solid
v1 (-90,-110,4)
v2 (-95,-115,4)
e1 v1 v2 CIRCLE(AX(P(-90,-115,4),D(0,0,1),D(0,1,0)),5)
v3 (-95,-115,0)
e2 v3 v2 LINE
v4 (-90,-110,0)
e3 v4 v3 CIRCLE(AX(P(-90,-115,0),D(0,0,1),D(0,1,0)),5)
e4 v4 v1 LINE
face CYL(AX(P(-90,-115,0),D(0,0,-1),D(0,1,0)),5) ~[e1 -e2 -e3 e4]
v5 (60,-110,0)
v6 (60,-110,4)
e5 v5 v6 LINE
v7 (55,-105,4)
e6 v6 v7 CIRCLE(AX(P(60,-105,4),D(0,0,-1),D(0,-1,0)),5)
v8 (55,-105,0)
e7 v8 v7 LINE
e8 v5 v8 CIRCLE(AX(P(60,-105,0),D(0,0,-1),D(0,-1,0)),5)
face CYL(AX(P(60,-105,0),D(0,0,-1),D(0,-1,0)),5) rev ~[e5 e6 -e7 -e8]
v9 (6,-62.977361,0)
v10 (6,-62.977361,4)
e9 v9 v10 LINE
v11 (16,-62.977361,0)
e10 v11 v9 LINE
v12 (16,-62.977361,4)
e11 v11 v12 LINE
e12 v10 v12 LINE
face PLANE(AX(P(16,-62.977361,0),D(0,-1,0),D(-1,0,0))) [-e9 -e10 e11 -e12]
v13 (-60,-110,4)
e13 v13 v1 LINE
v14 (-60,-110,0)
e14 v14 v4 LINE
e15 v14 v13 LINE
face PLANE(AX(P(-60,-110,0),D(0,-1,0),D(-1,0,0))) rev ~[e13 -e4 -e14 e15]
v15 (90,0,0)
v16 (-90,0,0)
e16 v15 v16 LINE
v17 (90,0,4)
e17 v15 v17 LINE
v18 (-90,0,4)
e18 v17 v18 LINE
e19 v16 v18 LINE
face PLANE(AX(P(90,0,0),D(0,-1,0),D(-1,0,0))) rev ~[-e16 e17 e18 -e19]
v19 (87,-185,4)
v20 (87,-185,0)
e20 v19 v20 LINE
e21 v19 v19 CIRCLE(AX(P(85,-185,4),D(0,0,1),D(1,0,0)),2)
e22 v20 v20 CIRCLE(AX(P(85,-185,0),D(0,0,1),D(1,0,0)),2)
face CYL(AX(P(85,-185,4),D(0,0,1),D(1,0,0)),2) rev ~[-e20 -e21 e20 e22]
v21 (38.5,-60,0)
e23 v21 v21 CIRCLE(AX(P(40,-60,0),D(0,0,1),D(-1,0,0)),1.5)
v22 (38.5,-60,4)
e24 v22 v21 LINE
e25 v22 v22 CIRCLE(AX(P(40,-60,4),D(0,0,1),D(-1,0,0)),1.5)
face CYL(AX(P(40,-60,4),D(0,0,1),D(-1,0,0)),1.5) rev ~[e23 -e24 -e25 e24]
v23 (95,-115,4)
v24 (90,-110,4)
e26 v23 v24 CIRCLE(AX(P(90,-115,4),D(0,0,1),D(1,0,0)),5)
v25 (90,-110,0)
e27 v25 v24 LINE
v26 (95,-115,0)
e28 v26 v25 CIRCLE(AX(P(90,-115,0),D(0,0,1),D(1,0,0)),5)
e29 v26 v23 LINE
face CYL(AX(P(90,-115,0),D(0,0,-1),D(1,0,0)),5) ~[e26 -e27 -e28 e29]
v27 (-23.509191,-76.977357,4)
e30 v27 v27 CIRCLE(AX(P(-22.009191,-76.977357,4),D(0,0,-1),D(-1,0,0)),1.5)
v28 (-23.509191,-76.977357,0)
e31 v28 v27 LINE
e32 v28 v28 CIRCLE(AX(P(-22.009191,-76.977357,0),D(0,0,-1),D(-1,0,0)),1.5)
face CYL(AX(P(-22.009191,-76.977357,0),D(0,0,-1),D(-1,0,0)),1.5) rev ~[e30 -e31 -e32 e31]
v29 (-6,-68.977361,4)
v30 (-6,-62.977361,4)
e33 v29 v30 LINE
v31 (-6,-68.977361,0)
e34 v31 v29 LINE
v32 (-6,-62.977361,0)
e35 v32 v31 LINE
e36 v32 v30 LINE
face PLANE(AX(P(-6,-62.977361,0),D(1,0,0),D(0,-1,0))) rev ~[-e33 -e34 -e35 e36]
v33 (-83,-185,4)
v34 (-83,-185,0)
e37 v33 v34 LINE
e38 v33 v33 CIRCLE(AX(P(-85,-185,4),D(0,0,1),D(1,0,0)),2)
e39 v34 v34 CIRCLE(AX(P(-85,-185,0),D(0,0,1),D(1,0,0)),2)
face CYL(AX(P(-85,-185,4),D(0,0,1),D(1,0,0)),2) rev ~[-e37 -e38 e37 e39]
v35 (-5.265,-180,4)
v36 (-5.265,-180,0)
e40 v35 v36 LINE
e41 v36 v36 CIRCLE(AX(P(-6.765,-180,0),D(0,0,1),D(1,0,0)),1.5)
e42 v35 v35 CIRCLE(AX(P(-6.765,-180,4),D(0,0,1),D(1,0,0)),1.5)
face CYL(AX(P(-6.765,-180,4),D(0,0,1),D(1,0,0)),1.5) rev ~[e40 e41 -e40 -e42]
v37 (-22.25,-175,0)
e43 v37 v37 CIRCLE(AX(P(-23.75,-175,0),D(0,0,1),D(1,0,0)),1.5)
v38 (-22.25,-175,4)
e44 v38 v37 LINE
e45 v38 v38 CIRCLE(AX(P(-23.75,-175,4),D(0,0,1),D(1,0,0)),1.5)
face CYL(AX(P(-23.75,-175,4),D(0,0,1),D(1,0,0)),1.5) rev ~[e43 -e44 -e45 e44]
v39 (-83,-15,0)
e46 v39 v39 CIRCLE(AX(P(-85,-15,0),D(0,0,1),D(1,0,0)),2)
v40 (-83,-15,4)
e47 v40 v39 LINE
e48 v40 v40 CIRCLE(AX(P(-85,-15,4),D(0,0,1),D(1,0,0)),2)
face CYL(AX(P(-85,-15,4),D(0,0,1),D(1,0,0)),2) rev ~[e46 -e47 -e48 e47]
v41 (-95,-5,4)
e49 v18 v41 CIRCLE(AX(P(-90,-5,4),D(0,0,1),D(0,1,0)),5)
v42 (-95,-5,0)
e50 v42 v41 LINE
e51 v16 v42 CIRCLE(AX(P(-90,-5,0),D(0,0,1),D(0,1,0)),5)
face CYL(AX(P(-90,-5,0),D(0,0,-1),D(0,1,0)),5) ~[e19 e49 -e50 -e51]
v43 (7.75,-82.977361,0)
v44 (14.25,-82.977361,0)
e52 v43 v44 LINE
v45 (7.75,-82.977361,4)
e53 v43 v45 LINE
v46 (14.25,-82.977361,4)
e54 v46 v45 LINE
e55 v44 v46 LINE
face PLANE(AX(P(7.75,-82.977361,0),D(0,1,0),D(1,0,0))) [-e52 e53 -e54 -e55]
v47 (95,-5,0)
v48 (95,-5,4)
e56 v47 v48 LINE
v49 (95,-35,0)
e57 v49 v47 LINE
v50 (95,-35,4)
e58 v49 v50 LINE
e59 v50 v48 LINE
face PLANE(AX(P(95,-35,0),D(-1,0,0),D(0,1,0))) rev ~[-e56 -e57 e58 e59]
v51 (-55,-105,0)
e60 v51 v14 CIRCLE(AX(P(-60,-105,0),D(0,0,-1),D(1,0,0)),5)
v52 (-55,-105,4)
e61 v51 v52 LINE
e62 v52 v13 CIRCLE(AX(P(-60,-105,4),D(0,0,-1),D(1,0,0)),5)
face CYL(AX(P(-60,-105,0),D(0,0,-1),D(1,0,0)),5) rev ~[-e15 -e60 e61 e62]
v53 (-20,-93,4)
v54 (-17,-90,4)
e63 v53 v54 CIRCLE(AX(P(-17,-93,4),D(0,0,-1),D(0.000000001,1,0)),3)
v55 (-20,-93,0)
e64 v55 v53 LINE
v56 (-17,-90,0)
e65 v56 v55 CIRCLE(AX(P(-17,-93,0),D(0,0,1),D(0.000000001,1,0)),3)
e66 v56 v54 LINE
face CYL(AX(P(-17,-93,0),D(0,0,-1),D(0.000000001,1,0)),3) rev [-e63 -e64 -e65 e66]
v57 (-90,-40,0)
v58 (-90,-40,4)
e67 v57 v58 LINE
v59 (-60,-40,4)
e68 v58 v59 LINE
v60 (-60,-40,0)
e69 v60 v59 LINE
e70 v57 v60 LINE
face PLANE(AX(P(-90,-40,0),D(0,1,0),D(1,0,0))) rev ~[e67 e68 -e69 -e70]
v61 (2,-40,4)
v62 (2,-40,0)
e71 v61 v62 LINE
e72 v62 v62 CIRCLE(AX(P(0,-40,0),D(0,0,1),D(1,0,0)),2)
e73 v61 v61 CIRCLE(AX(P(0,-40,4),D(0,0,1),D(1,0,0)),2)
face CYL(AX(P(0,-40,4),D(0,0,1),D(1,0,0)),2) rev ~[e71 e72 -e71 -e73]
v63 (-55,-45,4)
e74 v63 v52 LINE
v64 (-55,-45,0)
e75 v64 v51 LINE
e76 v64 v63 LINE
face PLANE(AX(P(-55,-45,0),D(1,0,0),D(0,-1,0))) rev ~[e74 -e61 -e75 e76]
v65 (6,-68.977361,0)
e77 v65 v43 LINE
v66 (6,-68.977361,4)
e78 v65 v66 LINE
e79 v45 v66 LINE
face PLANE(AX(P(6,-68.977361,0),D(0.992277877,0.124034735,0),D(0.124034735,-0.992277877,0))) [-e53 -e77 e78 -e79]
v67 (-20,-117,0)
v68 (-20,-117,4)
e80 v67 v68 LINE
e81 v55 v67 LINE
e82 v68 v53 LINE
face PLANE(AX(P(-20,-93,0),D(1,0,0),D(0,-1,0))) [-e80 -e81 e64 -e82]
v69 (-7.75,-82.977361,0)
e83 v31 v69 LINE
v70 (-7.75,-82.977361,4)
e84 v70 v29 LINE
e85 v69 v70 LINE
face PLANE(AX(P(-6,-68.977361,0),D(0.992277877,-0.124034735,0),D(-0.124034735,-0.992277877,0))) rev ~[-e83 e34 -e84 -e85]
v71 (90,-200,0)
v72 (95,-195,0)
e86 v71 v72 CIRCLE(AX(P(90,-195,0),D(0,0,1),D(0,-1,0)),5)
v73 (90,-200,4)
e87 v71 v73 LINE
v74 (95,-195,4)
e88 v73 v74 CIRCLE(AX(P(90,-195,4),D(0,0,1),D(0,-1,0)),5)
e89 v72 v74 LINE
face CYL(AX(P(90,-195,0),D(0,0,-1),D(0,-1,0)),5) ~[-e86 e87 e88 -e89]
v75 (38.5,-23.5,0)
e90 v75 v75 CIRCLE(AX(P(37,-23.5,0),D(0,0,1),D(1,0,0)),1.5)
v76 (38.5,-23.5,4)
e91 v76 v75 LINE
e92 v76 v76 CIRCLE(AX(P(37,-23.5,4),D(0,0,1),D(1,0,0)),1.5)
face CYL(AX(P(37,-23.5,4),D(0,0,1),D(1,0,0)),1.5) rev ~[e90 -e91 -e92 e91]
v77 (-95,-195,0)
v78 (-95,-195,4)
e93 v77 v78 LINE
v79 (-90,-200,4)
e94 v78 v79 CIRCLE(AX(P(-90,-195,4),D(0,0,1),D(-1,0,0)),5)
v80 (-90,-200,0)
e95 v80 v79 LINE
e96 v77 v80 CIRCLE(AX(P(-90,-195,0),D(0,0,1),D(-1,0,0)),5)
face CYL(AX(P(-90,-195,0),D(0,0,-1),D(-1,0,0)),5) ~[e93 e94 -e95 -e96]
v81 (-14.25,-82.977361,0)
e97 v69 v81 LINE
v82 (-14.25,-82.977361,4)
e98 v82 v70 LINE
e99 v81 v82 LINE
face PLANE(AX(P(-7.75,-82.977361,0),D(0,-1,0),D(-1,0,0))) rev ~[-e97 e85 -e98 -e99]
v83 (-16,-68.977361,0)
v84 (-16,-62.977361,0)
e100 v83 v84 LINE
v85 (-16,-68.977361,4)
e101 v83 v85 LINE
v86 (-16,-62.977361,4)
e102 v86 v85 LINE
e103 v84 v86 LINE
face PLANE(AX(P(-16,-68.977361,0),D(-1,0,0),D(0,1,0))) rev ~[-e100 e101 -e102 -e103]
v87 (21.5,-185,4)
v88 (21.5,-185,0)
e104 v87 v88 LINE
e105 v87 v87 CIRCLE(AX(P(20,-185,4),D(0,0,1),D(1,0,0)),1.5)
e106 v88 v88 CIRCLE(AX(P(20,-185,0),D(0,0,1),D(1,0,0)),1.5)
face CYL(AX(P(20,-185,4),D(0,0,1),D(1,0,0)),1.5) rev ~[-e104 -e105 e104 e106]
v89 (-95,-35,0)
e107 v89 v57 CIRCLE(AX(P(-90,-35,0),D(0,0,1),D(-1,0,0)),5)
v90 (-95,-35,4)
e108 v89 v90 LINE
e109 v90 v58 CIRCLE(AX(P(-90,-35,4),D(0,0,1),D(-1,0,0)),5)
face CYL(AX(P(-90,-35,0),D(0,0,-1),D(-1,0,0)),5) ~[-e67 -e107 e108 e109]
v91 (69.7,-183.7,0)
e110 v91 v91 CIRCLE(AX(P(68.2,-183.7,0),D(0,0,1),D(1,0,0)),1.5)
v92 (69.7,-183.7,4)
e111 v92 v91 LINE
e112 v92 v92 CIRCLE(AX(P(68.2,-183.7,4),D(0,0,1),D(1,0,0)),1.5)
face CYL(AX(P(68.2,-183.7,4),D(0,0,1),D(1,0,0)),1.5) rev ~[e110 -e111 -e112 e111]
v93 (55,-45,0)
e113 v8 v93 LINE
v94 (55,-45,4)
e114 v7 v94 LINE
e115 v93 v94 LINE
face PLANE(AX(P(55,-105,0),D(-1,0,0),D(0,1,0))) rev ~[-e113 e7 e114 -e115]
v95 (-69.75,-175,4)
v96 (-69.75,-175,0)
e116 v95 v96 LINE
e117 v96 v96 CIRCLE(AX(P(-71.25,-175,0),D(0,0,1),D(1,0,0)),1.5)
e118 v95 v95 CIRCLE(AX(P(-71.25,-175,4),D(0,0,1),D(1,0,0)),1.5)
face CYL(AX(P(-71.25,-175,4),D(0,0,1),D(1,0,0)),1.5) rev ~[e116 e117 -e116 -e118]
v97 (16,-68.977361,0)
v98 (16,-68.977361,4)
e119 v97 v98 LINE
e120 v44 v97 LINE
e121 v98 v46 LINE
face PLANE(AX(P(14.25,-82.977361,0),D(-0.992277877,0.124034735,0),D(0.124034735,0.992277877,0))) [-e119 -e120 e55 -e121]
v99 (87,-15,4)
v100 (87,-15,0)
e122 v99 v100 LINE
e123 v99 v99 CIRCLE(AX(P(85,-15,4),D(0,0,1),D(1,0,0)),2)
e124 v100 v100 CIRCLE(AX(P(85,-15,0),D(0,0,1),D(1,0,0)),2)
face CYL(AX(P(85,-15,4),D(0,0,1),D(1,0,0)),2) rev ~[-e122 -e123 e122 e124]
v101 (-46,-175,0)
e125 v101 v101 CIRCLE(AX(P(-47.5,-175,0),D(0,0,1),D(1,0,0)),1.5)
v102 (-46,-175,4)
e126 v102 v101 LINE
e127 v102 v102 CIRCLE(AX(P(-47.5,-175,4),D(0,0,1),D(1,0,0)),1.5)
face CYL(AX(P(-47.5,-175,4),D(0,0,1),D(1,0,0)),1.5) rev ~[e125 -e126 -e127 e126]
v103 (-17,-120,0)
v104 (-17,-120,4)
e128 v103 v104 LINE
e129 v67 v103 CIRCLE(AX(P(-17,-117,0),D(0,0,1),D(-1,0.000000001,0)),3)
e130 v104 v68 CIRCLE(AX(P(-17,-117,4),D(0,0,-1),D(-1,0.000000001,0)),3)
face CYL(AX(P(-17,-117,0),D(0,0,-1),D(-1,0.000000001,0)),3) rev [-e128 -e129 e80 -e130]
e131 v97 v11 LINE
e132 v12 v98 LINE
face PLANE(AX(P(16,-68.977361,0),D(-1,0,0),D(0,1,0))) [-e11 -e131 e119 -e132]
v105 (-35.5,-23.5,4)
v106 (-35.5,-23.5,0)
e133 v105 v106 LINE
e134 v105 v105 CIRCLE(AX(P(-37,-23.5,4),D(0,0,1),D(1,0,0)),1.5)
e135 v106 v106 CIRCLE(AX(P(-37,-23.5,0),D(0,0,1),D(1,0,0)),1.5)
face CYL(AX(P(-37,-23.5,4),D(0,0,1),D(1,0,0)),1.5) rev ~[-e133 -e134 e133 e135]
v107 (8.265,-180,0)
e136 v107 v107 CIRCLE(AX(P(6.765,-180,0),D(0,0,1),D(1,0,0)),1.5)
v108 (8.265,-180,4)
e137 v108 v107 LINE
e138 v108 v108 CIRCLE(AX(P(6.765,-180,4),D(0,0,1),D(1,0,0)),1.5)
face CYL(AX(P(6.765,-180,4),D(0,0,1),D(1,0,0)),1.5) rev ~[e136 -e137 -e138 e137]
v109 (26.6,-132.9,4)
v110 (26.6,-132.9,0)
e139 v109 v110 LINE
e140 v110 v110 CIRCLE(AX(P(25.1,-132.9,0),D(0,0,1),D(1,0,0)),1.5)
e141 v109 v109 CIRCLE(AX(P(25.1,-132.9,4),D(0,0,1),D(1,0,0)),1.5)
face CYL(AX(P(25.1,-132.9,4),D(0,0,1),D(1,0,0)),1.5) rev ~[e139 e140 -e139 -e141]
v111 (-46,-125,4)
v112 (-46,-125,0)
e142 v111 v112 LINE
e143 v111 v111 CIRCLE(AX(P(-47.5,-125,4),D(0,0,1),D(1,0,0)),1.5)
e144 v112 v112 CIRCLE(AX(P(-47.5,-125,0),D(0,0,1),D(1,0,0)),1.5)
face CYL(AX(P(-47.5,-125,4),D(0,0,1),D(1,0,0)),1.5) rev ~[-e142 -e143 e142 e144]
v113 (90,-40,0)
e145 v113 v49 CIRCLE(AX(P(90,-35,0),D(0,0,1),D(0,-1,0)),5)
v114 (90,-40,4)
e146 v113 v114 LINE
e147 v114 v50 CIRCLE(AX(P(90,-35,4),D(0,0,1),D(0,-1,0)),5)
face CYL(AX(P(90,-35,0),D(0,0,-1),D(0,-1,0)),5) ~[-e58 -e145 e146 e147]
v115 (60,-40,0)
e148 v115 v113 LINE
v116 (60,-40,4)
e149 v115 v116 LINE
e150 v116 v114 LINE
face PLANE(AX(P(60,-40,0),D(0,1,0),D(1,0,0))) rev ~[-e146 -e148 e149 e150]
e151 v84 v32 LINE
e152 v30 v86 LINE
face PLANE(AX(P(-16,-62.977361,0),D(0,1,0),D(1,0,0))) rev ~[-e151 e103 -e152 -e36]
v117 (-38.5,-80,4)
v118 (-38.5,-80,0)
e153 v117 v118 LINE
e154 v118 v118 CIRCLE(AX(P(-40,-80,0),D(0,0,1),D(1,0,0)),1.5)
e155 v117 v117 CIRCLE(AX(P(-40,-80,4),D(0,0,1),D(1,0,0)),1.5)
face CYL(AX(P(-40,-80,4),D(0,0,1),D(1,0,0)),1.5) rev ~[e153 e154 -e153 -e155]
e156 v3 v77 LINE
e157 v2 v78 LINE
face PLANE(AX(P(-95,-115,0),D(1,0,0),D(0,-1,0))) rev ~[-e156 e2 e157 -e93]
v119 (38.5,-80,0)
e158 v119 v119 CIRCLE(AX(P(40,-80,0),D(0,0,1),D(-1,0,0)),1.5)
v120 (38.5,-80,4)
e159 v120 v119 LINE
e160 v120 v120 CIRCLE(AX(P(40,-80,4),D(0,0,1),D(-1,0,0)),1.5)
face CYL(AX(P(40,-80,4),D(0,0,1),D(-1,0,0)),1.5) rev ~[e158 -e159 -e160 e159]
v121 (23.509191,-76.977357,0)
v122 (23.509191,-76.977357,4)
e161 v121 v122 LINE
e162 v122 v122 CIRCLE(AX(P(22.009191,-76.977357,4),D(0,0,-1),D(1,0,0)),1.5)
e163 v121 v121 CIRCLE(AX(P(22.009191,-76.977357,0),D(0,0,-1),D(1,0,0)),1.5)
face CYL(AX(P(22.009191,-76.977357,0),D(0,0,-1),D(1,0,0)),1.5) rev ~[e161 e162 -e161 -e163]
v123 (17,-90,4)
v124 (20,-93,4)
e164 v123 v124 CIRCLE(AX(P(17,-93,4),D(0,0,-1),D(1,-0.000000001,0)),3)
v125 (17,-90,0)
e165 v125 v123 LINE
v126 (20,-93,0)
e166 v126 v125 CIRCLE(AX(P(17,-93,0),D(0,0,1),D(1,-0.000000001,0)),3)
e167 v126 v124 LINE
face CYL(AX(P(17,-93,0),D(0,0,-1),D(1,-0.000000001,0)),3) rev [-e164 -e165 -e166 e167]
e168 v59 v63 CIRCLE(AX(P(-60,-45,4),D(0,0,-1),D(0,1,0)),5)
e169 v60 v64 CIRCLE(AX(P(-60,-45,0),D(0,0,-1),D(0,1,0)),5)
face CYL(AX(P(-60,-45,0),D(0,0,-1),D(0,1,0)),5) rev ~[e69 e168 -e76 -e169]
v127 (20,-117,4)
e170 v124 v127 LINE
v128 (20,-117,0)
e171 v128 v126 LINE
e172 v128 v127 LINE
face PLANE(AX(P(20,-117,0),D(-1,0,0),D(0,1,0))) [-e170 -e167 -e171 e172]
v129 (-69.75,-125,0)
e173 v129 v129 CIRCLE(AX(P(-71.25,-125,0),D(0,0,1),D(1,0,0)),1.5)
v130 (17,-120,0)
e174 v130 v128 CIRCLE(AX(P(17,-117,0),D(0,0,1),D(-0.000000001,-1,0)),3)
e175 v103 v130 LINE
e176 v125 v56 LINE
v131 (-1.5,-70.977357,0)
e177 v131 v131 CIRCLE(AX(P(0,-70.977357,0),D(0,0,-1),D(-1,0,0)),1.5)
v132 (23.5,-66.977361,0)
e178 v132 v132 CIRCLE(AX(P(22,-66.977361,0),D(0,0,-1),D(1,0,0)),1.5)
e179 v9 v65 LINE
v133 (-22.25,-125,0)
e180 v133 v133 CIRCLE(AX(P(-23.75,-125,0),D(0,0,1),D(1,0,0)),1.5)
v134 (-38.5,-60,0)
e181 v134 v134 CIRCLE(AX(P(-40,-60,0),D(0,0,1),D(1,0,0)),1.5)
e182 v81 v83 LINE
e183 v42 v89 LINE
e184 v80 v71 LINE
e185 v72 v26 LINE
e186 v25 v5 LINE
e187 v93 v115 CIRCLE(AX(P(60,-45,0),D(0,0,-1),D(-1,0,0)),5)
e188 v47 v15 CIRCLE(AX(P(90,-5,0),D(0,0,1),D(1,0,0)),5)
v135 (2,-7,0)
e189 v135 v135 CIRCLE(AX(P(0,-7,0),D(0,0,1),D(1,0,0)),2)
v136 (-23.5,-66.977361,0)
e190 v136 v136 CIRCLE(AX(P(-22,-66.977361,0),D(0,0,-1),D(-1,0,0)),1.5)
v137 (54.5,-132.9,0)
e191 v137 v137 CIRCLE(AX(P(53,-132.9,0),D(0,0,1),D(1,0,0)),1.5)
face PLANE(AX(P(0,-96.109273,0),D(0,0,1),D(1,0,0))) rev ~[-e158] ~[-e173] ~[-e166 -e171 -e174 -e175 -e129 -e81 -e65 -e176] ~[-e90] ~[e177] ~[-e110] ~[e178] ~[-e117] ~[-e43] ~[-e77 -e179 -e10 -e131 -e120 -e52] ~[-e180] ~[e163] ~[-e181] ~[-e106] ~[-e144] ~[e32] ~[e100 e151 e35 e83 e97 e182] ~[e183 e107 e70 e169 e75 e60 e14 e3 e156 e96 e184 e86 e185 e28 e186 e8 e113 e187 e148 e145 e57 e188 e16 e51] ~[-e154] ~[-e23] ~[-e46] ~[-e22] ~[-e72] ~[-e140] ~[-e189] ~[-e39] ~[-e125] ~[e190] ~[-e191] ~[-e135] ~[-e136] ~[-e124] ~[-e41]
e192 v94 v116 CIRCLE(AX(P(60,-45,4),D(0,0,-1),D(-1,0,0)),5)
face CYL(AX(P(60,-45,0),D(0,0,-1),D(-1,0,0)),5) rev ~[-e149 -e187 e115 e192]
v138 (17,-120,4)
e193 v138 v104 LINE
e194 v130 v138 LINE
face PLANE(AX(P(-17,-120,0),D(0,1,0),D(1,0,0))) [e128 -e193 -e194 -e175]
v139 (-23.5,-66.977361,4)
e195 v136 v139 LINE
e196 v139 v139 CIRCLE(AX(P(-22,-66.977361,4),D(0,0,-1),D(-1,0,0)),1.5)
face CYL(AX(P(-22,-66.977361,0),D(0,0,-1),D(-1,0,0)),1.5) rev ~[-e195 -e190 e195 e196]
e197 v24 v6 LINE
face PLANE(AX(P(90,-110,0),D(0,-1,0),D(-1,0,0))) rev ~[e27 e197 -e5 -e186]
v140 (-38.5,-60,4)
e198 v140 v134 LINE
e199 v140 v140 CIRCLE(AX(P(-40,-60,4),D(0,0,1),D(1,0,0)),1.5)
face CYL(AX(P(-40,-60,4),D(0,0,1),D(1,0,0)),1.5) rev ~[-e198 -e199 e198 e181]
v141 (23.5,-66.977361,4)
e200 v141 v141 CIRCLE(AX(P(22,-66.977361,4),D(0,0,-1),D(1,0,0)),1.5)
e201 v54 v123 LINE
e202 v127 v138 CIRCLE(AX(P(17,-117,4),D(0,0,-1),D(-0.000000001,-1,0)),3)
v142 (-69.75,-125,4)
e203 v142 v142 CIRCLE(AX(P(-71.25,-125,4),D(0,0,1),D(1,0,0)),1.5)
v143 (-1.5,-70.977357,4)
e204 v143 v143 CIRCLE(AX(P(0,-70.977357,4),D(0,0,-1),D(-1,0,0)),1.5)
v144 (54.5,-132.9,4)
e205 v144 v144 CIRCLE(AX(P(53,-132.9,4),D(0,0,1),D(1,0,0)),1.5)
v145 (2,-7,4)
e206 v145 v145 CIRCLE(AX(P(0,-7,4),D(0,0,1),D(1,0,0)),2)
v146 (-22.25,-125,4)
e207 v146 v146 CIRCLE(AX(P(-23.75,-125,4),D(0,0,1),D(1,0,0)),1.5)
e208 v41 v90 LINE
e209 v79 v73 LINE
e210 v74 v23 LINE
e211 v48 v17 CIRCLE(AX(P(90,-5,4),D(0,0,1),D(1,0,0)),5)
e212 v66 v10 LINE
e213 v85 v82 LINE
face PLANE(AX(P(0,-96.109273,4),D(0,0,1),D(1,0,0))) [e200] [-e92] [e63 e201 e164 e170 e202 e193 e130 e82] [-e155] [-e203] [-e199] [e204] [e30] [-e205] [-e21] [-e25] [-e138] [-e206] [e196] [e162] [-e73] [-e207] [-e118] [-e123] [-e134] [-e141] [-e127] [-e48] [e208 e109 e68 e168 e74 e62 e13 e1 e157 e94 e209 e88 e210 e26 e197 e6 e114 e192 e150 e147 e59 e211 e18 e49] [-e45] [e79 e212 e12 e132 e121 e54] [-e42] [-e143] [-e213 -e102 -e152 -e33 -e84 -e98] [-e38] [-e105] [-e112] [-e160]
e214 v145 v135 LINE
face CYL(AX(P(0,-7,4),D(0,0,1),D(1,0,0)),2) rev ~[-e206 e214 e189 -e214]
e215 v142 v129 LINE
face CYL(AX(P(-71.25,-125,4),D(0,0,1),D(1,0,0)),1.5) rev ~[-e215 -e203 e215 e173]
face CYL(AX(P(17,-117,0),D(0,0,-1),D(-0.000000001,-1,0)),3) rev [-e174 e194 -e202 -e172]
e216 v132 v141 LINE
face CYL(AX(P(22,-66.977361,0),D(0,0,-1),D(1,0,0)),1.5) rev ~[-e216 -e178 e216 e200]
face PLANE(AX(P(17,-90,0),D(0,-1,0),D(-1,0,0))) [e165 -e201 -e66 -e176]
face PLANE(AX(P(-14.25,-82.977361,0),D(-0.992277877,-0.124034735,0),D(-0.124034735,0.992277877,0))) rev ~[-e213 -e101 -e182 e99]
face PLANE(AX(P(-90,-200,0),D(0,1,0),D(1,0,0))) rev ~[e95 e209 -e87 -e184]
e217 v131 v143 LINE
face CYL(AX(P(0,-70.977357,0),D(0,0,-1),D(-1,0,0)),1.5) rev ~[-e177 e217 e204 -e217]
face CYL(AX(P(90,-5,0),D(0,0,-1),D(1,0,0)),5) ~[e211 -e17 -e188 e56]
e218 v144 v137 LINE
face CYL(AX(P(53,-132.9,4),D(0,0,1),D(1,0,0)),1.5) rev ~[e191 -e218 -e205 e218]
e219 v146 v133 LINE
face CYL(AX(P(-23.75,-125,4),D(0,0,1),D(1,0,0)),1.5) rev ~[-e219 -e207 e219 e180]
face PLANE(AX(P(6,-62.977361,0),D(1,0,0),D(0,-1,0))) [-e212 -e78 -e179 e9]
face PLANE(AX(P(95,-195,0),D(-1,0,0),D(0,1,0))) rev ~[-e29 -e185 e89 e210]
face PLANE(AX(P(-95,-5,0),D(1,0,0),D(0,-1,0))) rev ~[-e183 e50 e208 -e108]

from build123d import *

# Parameters (mm, degrees)
BOSS_EXTRUDE1_DEPTH = 4
SKETCH2_R           = 2
SKETCH2_R_2         = 1.5
CUT_EXTRUDE1_DEPTH  = 20
SKETCH3_R           = 1.5
CUT_EXTRUDE2_DEPTH  = 10
SKETCH5_R           = 1.5
SKETCH5_R_2         = 2
CUT_EXTRUDE3_DEPTH  = 222.452026408
SKETCH7_R           = 1.5
CUT_EXTRUDE4_DEPTH  = 10


with BuildPart() as part:
    # Sketch1 → Boss-Extrude1 (new body)
    with BuildSketch(Plane.XY):
        with BuildLine():
            Line((-95, -115), (-95, -195))
            ThreePointArc((-95, -195), (-93.535533906, -198.535533906), (-90, -200))
            Line((-90, -200), (90, -200))
            ThreePointArc((90, -200), (93.535533906, -198.535533906), (95, -195))
            Line((95, -195), (95, -115))
            ThreePointArc((95, -115), (93.535533906, -111.464466094), (90, -110))
            Line((90, -110), (60, -110))
            ThreePointArc((60, -110), (56.464466094, -108.535533906), (55, -105))
            Line((55, -105), (55, -45))
            ThreePointArc((55, -45), (56.464466094, -41.464466094), (60, -40))
            Line((60, -40), (90, -40))
            ThreePointArc((90, -40), (93.535533906, -38.535533906), (95, -35))
            Line((95, -35), (95, -5))
            ThreePointArc((95, -5), (93.535533906, -1.464466094), (90, 0))
            Line((90, 0), (-90, 0))
            ThreePointArc((-90, 0), (-93.535533906, -1.464466094), (-95, -5))
            Line((-95, -5), (-95, -35))
            ThreePointArc((-95, -35), (-93.535533906, -38.535533906), (-90, -40))
            Line((-90, -40), (-60, -40))
            ThreePointArc((-60, -40), (-56.464466094, -41.464466094), (-55, -45))
            Line((-55, -45), (-55, -105))
            ThreePointArc((-55, -105), (-56.464466094, -108.535533906), (-60, -110))
            Line((-60, -110), (-90, -110))
            ThreePointArc((-90, -110), (-93.535533906, -111.464466094), (-95, -115))
        make_face()
    extrude(amount=BOSS_EXTRUDE1_DEPTH)

    # Sketch2 → Cut-Extrude1 (cut)
    with BuildSketch(Plane.XY.offset(4)):
        with Locations((-85, -185)):
            Circle(SKETCH2_R)
        with Locations((-85, -15)):
            Circle(SKETCH2_R)
        with Locations((85, -15)):
            Circle(SKETCH2_R)
        with Locations((85, -185)):
            Circle(SKETCH2_R)
        with Locations((-6.765, -180)):
            Circle(SKETCH2_R_2)
        with Locations((6.765, -180)):
            Circle(SKETCH2_R_2)
    extrude(amount=-CUT_EXTRUDE1_DEPTH, mode=Mode.SUBTRACT)

    # Sketch3 → Cut-Extrude2 (cut)
    with BuildSketch(Plane.XY.offset(4)):
        with Locations((-71.25, -75)):
            Circle(SKETCH3_R)
        with Locations((-71.25, -175)):
            Circle(SKETCH3_R)
        with Locations((-71.25, -125)):
            Circle(SKETCH3_R)
        with Locations((71.25, -75)):
            Circle(SKETCH3_R)
        with Locations((-23.75, -125)):
            Circle(SKETCH3_R)
        with Locations((-23.75, -175)):
            Circle(SKETCH3_R)
        with Locations((-47.5, -125)):
            Circle(SKETCH3_R)
        with Locations((-47.5, -175)):
            Circle(SKETCH3_R)
    extrude(amount=-CUT_EXTRUDE2_DEPTH, mode=Mode.SUBTRACT)

    # Sketch5 → Cut-Extrude3 (cut, through all)
    with BuildSketch(Plane.XY.offset(4)):
        with Locations((-40, -60)):
            Circle(SKETCH5_R)
        with Locations((-40, -80)):
            Circle(SKETCH5_R)
        with Locations(Location((40, -80, 0), (0, 0, 180))):
            Circle(SKETCH5_R)
        with Locations(Location((40, -60, 0), (0, 0, 180))):
            Circle(SKETCH5_R)
        with Locations((25.1, -132.9)):
            Circle(SKETCH5_R)
        with Locations((20, -185)):
            Circle(SKETCH5_R)
        with Locations((68.2, -183.7)):
            Circle(SKETCH5_R)
        with Locations((53, -132.9)):
            Circle(SKETCH5_R)
        with Locations((0, -7)):
            Circle(SKETCH5_R_2)
        with Locations((0, -40)):
            Circle(SKETCH5_R_2)
        with Locations((-37, -23.5)):
            Circle(SKETCH5_R)
        with Locations((37, -23.5)):
            Circle(SKETCH5_R)
    extrude(amount=-CUT_EXTRUDE3_DEPTH, mode=Mode.SUBTRACT)

    # Sketch7 → Cut-Extrude4 (cut)
    with BuildSketch(Plane(origin=(0, 0, 0), x_dir=(-1, 0, 0), z_dir=(0, 0, -1))):
        with Locations((22, -66.977361043)):
            Circle(SKETCH7_R)
        with Locations((22.009190814, -76.97735682)):
            Circle(SKETCH7_R)
        with Locations(Location((-22.009190814, -76.97735682, 0), (0, 0, 180))):
            Circle(SKETCH7_R)
        with Locations(Location((-22, -66.977361043, 0), (0, 0, 180))):
            Circle(SKETCH7_R)
        with Locations((0, -70.97735682)):
            Circle(SKETCH7_R)
        with BuildLine():
            Line((17, -120), (-17, -120))
            ThreePointArc((-17, -120), (-19.121320344, -119.121320344), (-20, -117))
            Line((-20, -117), (-20, -93))
            ThreePointArc((-20, -93), (-19.121320344, -90.878679656), (-17, -90))
            Line((-17, -90), (17, -90))
            ThreePointArc((17, -90), (19.121320344, -90.878679656), (20, -93))
            Line((20, -93), (20, -117))
            ThreePointArc((20, -117), (19.121320344, -119.121320344), (17, -120))
        make_face()
        Polygon((16, -62.977361043), (6, -62.977361043), (6, -68.977361043), (7.75, -82.977361043), (14.25, -82.977361043), (16, -68.977361043), align=None)
        Polygon((-6, -68.977361043), (-7.75, -82.977361043), (-14.25, -82.977361043), (-16, -68.977361043), (-16, -62.977361043), (-6, -62.977361043), align=None)
    extrude(amount=-CUT_EXTRUDE4_DEPTH, mode=Mode.SUBTRACT)


solid = part.part
